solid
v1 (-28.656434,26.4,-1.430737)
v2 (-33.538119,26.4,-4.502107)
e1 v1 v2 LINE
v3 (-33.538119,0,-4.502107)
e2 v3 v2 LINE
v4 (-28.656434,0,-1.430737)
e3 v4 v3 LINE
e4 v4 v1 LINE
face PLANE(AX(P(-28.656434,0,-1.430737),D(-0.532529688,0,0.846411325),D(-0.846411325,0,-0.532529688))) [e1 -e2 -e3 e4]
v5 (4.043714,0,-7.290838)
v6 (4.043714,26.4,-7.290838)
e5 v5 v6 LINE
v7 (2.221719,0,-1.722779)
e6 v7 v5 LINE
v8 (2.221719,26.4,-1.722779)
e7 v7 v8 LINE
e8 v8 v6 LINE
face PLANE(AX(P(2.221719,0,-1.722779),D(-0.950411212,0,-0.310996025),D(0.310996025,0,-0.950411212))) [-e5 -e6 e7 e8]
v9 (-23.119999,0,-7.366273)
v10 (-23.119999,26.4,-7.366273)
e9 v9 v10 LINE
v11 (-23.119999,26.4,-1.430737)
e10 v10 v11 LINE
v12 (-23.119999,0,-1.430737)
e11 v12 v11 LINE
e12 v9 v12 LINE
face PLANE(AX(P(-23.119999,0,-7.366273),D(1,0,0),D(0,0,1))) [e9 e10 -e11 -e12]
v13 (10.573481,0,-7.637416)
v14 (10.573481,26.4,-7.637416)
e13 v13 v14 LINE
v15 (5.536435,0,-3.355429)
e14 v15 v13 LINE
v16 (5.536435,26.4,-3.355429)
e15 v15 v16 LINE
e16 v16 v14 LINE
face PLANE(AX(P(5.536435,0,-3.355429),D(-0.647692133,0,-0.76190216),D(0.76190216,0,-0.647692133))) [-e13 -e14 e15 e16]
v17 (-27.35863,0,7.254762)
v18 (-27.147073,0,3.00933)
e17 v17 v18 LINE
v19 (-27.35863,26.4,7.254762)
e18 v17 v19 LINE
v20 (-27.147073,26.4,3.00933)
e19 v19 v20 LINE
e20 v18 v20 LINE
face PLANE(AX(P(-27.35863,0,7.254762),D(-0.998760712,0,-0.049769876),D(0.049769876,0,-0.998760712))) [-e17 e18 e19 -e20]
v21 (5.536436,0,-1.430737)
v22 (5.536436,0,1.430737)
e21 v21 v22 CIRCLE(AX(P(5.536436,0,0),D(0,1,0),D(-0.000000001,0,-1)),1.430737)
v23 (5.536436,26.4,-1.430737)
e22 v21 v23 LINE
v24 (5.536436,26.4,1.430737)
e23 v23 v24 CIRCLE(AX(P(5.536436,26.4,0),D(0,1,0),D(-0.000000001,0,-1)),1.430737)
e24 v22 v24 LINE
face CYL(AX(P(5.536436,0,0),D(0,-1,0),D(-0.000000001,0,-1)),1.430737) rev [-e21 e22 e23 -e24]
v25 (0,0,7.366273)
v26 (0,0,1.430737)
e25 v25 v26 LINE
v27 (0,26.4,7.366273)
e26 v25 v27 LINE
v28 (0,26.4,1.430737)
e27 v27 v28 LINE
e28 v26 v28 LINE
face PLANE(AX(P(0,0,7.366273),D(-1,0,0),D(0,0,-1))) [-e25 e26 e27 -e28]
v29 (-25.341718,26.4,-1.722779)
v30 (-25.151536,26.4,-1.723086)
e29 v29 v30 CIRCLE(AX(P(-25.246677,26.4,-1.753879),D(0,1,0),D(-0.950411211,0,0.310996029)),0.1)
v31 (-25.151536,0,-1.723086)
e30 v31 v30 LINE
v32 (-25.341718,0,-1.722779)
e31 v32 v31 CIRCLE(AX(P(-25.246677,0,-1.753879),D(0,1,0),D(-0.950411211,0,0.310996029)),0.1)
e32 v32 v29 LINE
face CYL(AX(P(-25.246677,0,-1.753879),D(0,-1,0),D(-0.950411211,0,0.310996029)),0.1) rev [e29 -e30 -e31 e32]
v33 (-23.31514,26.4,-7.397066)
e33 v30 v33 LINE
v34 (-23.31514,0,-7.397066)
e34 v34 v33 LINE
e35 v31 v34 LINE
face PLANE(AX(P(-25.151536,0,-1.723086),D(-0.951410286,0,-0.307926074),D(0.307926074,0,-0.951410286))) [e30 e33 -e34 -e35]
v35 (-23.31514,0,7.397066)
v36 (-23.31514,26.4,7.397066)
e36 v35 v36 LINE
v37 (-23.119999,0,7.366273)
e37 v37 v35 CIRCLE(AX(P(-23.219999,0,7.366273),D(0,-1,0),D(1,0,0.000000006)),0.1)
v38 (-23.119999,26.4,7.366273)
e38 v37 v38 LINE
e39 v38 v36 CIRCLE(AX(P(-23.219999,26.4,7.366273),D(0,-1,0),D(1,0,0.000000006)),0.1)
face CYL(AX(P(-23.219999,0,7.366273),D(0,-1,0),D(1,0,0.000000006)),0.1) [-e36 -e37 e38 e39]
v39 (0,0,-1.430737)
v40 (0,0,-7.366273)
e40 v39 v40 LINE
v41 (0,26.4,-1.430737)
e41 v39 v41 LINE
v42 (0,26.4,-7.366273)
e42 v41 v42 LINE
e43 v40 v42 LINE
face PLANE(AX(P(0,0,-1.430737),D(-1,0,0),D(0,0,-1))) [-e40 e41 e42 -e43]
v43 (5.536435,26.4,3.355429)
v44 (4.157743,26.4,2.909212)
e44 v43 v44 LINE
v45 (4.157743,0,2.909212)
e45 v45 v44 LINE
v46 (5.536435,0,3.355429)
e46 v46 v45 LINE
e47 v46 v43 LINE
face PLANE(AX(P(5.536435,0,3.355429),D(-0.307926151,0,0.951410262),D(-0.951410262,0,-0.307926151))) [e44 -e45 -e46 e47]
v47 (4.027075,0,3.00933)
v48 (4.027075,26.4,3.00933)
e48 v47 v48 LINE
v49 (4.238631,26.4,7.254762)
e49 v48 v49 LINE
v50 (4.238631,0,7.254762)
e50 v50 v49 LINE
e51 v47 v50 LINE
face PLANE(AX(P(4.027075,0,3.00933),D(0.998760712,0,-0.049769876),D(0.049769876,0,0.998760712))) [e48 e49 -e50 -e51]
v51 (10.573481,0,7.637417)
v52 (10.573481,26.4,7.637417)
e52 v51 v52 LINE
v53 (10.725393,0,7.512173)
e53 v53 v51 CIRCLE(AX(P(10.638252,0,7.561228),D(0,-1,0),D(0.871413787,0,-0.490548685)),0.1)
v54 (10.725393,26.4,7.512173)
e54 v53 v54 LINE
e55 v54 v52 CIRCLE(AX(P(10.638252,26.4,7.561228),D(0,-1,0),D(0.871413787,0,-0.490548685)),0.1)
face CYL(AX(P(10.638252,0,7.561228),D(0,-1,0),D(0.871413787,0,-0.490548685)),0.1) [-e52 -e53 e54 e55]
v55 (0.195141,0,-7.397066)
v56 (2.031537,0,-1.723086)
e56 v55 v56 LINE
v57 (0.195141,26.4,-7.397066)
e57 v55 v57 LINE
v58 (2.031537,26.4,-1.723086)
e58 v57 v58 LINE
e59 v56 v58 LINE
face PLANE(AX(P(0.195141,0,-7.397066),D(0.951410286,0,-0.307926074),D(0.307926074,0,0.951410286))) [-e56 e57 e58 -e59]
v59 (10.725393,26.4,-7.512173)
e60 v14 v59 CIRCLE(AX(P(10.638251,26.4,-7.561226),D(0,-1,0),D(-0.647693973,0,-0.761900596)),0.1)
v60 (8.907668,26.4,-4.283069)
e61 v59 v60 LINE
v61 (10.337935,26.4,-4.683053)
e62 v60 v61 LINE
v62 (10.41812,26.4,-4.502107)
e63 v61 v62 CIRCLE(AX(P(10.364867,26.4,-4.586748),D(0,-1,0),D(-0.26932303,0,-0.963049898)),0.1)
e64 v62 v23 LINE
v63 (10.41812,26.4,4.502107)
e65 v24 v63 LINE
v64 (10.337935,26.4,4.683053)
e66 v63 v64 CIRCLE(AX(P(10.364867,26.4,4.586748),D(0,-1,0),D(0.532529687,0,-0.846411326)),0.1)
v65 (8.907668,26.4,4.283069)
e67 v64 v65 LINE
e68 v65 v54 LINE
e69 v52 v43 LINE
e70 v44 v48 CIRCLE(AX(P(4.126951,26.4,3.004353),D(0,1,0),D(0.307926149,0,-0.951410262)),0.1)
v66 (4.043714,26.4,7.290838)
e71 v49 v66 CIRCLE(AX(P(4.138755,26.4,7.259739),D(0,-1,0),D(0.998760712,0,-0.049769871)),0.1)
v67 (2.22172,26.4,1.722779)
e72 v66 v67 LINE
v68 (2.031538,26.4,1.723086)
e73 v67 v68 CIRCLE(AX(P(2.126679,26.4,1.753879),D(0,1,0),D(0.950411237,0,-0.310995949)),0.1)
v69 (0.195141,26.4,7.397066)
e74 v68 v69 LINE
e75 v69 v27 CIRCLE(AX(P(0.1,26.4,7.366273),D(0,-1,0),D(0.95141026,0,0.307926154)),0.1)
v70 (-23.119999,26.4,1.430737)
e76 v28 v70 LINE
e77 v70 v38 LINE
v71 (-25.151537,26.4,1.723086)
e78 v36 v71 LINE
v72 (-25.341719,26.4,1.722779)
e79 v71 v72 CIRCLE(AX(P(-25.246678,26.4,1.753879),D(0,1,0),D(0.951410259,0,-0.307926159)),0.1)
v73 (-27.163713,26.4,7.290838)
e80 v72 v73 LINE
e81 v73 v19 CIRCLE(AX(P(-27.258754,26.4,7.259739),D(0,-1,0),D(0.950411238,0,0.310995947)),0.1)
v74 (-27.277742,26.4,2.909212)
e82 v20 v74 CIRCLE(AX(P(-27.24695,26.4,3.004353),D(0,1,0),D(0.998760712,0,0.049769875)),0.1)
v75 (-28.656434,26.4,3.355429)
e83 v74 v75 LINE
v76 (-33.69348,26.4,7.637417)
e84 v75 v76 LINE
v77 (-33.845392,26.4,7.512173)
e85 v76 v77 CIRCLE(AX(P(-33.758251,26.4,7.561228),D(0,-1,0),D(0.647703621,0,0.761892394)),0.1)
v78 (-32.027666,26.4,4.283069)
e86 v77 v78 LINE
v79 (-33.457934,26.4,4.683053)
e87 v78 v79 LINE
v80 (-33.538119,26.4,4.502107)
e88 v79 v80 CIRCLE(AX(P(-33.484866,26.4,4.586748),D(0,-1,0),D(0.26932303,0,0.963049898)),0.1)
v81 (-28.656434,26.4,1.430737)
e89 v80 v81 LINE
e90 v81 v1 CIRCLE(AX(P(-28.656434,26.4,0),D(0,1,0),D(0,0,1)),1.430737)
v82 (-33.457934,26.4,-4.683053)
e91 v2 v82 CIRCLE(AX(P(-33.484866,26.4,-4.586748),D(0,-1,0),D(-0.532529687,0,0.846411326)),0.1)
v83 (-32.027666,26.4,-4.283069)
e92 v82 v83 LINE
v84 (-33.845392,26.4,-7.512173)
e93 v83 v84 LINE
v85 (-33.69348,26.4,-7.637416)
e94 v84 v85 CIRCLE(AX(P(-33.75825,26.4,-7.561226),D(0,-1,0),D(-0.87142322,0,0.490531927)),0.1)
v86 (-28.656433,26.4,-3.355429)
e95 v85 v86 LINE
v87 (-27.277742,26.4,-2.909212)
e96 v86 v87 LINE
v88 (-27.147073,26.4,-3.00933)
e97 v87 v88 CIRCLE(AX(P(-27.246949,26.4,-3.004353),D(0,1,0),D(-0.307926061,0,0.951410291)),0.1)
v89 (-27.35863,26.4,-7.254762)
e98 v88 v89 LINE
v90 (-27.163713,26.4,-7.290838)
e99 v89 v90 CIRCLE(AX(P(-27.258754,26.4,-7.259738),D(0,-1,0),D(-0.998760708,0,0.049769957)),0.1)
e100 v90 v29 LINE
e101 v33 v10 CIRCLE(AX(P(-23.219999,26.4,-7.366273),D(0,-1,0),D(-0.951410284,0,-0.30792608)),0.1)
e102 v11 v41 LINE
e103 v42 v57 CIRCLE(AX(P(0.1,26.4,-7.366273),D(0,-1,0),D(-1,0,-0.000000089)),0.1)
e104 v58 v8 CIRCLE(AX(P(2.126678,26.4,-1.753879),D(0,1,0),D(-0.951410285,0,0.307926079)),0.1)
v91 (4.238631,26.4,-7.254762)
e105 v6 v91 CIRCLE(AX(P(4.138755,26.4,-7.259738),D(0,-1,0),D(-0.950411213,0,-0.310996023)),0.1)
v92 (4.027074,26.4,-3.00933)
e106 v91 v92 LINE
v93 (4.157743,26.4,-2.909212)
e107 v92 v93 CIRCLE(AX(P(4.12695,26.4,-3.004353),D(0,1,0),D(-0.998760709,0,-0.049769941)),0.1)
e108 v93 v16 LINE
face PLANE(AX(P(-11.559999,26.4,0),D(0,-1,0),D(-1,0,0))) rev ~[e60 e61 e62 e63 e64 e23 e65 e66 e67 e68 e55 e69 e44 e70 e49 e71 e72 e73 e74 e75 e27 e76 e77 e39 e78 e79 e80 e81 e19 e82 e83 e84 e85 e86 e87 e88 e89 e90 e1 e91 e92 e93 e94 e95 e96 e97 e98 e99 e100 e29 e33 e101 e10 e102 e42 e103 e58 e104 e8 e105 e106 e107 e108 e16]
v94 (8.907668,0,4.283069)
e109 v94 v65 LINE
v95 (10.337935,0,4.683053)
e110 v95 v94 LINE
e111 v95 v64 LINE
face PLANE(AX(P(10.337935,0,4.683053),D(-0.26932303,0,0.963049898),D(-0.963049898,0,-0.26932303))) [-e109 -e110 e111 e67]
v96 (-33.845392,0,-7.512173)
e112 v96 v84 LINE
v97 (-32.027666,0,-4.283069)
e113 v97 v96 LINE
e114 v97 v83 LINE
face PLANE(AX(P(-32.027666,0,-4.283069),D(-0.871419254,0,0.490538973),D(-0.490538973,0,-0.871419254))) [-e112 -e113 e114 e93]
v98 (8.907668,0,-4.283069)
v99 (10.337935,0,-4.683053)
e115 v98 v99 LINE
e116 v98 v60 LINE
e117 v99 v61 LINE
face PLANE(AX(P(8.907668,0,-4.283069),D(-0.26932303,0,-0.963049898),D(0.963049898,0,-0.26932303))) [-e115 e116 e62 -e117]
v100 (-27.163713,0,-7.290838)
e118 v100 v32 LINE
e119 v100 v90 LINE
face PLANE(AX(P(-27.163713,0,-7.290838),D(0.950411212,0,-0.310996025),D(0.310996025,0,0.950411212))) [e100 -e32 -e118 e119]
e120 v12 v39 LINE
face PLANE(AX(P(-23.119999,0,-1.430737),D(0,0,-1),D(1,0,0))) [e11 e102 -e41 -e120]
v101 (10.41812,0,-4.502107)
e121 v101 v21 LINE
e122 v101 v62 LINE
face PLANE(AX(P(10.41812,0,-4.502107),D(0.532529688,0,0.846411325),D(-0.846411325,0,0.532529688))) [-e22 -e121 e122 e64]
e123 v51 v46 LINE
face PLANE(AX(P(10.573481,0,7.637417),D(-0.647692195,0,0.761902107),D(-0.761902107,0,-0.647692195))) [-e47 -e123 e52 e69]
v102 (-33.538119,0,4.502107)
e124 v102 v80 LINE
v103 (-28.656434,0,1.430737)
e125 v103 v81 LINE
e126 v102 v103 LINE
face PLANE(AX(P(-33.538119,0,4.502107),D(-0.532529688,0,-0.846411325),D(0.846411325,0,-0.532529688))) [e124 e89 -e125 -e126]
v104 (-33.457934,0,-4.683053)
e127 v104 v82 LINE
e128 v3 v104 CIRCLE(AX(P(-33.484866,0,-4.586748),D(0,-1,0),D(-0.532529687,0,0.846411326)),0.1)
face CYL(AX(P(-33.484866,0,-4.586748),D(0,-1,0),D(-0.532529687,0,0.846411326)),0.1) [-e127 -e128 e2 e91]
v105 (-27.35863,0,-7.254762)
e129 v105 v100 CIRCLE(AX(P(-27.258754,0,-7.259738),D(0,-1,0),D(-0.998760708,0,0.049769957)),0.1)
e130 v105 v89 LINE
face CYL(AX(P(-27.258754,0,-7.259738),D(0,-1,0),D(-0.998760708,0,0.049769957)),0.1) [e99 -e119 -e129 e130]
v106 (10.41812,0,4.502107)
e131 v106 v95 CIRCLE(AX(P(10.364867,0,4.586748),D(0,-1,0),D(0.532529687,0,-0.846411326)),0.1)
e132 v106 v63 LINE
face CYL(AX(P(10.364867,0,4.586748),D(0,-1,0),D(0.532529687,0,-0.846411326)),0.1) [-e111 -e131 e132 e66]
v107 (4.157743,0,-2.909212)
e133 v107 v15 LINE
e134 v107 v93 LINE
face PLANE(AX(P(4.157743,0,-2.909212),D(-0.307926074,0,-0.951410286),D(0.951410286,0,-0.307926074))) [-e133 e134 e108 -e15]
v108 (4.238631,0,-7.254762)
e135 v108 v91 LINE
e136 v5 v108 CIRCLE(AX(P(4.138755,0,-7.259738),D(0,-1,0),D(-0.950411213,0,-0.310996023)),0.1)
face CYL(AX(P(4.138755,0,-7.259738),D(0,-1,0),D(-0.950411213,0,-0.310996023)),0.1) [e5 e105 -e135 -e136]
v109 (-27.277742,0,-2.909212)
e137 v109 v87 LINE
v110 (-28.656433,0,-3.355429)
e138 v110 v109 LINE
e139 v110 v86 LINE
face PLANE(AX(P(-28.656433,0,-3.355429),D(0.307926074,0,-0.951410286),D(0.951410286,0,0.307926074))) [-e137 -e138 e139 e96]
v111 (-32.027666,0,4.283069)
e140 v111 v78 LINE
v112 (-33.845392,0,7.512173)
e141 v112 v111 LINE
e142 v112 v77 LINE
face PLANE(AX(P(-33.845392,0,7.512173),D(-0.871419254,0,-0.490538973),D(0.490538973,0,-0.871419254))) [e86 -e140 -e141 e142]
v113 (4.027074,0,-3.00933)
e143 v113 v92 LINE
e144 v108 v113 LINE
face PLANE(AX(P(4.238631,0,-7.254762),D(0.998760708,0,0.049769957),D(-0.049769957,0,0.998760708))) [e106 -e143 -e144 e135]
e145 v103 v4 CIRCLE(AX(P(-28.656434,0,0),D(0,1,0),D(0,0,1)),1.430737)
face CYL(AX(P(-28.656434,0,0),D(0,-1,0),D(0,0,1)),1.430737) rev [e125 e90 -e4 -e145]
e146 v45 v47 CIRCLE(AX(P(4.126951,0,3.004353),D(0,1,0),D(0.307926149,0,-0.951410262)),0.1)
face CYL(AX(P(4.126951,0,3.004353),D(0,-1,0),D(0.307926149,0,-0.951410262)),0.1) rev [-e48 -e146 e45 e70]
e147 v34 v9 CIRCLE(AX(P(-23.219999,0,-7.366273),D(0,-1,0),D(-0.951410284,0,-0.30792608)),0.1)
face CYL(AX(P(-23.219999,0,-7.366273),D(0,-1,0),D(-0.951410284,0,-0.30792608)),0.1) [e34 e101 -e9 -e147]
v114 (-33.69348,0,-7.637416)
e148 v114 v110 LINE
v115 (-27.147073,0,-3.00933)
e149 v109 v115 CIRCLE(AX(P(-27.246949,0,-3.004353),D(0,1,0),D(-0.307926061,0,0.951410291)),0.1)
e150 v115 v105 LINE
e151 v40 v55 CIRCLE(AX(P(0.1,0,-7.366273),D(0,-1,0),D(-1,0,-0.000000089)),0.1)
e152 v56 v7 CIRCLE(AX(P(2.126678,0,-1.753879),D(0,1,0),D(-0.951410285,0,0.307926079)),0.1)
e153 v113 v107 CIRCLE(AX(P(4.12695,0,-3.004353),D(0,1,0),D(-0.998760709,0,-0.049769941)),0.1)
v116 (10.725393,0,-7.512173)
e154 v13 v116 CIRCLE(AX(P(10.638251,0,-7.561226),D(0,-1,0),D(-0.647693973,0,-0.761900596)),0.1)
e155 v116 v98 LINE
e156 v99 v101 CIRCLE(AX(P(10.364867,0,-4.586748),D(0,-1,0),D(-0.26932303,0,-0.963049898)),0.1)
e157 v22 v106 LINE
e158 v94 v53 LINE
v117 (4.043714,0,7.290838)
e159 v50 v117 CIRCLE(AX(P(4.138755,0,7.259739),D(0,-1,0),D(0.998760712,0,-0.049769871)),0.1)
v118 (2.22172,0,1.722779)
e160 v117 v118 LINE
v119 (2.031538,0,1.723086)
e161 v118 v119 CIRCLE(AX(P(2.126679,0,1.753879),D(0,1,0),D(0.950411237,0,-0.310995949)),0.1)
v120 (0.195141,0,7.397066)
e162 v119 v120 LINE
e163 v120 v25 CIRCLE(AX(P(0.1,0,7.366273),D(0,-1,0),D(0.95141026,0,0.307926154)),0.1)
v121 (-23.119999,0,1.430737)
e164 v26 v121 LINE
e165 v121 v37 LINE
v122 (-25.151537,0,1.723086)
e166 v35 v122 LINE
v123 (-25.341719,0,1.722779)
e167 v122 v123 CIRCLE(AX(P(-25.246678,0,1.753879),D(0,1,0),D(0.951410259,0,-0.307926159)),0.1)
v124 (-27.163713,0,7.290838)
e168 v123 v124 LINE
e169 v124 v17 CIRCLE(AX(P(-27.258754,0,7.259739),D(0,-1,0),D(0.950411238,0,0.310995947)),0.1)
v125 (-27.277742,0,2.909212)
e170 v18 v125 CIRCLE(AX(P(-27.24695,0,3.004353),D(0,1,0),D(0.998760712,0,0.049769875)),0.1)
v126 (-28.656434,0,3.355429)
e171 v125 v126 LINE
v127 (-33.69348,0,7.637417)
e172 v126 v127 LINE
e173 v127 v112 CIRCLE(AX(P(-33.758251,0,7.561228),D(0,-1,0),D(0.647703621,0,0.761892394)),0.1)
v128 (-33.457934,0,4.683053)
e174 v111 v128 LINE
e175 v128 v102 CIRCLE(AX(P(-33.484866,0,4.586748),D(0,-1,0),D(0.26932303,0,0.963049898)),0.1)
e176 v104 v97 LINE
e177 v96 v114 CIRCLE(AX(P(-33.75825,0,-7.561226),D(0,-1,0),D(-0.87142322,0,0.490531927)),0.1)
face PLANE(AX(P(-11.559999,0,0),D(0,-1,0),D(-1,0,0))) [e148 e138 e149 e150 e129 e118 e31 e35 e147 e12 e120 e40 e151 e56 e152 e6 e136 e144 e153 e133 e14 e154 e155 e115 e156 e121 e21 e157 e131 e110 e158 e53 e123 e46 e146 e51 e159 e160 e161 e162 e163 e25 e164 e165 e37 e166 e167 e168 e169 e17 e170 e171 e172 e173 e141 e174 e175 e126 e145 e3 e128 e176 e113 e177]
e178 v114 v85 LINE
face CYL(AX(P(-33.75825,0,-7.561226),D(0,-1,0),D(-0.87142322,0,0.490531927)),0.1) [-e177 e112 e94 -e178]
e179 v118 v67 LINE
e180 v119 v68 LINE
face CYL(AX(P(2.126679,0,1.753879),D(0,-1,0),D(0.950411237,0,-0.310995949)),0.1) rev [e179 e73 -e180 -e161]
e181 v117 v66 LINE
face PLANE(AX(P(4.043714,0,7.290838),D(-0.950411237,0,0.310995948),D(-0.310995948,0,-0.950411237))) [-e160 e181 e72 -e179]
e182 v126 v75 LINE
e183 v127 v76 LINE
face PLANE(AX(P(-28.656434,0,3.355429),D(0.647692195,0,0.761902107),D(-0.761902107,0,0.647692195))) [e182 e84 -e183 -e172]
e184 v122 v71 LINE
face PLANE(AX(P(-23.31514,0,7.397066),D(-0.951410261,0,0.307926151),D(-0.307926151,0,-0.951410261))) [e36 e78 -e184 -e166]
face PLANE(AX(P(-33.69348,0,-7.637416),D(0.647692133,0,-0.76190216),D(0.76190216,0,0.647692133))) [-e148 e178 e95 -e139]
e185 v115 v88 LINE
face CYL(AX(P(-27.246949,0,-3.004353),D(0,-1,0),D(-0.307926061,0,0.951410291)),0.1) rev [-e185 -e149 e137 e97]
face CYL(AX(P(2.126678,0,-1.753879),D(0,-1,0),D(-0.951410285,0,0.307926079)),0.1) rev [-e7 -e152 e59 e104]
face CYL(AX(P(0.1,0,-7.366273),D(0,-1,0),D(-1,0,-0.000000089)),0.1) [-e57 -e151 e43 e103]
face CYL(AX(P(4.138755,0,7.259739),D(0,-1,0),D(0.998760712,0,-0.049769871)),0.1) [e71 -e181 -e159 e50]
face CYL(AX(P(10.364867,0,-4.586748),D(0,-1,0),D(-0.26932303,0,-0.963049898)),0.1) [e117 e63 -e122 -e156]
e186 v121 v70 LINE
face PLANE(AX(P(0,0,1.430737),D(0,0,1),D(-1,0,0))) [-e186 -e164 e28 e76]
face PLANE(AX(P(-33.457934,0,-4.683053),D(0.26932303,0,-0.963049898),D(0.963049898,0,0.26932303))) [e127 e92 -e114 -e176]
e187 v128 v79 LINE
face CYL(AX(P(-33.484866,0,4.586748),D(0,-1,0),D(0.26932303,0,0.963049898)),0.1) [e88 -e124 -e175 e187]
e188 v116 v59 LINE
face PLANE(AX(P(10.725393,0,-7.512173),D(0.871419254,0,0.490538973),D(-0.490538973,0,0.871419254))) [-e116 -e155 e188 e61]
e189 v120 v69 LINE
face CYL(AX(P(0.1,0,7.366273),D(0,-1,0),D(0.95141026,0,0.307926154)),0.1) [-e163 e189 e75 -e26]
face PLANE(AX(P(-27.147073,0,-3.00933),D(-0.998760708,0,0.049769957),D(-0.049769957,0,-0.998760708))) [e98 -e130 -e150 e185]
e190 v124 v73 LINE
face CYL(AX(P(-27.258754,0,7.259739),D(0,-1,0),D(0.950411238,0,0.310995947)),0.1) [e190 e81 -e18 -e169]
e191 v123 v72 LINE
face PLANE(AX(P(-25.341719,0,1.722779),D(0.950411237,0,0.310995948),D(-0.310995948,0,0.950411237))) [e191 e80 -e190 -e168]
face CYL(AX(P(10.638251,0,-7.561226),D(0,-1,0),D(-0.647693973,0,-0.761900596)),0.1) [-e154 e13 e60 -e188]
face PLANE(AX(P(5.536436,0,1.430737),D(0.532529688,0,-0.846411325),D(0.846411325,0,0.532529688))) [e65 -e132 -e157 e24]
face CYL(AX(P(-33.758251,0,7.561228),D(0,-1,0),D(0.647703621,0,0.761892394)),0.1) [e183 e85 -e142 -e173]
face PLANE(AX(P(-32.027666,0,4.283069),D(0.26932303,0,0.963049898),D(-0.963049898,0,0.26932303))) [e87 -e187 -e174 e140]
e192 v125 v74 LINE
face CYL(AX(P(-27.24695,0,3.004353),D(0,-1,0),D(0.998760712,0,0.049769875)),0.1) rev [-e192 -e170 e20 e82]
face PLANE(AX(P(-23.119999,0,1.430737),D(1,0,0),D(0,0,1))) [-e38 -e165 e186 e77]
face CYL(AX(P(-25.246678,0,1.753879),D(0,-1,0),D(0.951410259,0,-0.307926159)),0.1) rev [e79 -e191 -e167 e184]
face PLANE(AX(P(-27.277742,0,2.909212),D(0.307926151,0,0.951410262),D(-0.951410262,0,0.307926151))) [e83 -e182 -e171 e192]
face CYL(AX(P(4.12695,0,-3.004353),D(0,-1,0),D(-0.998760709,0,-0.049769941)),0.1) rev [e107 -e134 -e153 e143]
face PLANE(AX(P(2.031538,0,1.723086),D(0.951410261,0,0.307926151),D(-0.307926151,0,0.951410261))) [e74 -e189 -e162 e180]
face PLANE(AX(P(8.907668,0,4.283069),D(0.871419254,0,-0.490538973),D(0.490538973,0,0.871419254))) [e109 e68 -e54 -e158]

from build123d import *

# Parameters (mm, degrees)
EXTRUDE_1_DEPTH = 26.4


with BuildPart() as part:
    # Эскиз1 → Бобышка-Вытянуть1 (new body)
    with BuildSketch(Plane(origin=(0, 0, 0), x_dir=(1, 0, 0), z_dir=(0, 1, 0))):
        with BuildLine():
            Line((0, -7.366273292), (0, -1.430737225))
            Line((0, -1.430737225), (-23.119998808, -1.430737225))
            Line((-23.119998808, -1.430737225), (-23.119998808, -7.366273292))
            ThreePointArc((-23.119998808, -7.366273292), (-23.204411997, -7.465051079), (-23.315139834, -7.397065907))
            Line((-23.315139834, -7.397065907), (-25.151536602, -1.723086212))
            ThreePointArc((-25.151536602, -1.723086212), (-25.246516215, -1.653878958), (-25.341718752, -1.722779233))
            Line((-25.341718752, -1.722779233), (-27.163713043, -7.290838427))
            ThreePointArc((-27.163713043, -7.290838427), (-27.276953731, -7.358068766), (-27.358630238, -7.254761845))
            Line((-27.358630238, -7.254761845), (-27.147073457, -3.009330281))
            ThreePointArc((-27.147073457, -3.009330281), (-27.186129834, -2.924974677), (-27.277742143, -2.909212268))
            Line((-27.277742143, -2.909212268), (-28.656433819, -3.355429045))
            Line((-28.656433819, -3.355429045), (-33.693480219, -7.637416988))
            ThreePointArc((-33.693480219, -7.637416988), (-33.821863766, -7.638385786), (-33.84539196, -7.51217288))
            Line((-33.84539196, -7.51217288), (-32.027666378, -4.283069467))
            Line((-32.027666378, -4.283069467), (-33.457933536, -4.683052776))
            ThreePointArc((-33.457933536, -4.683052776), (-33.57629105, -4.627262362), (-33.538118808, -4.502106653))
            Line((-33.538118808, -4.502106653), (-28.656434415, -1.430737225))
            ThreePointArc((-28.656434415, -1.430737225), (-27.22569719, 0), (-28.656434415, 1.430737225))
            Line((-28.656434415, 1.430737225), (-33.538118808, 4.502106653))
            ThreePointArc((-33.538118808, 4.502106653), (-33.57629105, 4.627262362), (-33.457933536, 4.683052776))
            Line((-33.457933536, 4.683052776), (-32.027666378, 4.283069467))
            Line((-32.027666378, 4.283069467), (-33.84539196, 7.51217288))
            ThreePointArc((-33.84539196, 7.51217288), (-33.821862569, 7.638384319), (-33.693480241, 7.637416132))
            Line((-33.693480241, 7.637416132), (-28.656433494, 3.355428597))
            Line((-28.656433494, 3.355428597), (-27.277741782, 2.909211931))
            ThreePointArc((-27.277741782, 2.909211931), (-27.186129475, 2.924974348), (-27.147073104, 3.009329955))
            Line((-27.147073104, 3.009329955), (-27.358630229, 7.254761502))
            ThreePointArc((-27.358630229, 7.254761502), (-27.27695373, 7.35806843), (-27.163713037, 7.2908381))
            Line((-27.163713037, 7.2908381), (-25.341718295, 1.722779053))
            ThreePointArc((-25.341718295, 1.722779053), (-25.246515752, 1.653878786), (-25.151536145, 1.723086048))
            Line((-25.151536145, 1.723086048), (-23.315139837, 7.397065891))
            ThreePointArc((-23.315139837, 7.397065891), (-23.204412005, 7.465051072), (-23.119998808, 7.366273292))
            Line((-23.119998808, 7.366273292), (-23.119998808, 1.430737225))
            Line((-23.119998808, 1.430737225), (0, 1.430737225))
            Line((0, 1.430737225), (0, 7.366273292))
            ThreePointArc((0, 7.366273292), (0.084413196, 7.465051072), (0.195141029, 7.397065891))
            Line((0.195141029, 7.397065891), (2.031537337, 1.723086048))
            ThreePointArc((2.031537337, 1.723086048), (2.126516944, 1.653878786), (2.221719487, 1.722779053))
            Line((2.221719487, 1.722779053), (4.043714229, 7.2908381))
            ThreePointArc((4.043714229, 7.2908381), (4.156954922, 7.35806843), (4.238631421, 7.254761502))
            Line((4.238631421, 7.254761502), (4.027074296, 3.009329955))
            ThreePointArc((4.027074296, 3.009329955), (4.066130667, 2.924974348), (4.157742974, 2.909211931))
            Line((4.157742974, 2.909211931), (5.536434686, 3.355428597))
            Line((5.536434686, 3.355428597), (10.573481433, 7.637416132))
            ThreePointArc((10.573481433, 7.637416132), (10.701863761, 7.638384319), (10.725393152, 7.51217288))
            Line((10.725393152, 7.51217288), (8.90766757, 4.283069467))
            Line((8.90766757, 4.283069467), (10.337934728, 4.683052776))
            ThreePointArc((10.337934728, 4.683052776), (10.456292242, 4.627262362), (10.41812, 4.502106653))
            Line((10.41812, 4.502106653), (5.536435606, 1.430737225))
            ThreePointArc((5.536435606, 1.430737225), (4.105698382, 0), (5.536435606, -1.430737225))
            Line((5.536435606, -1.430737225), (10.41812, -4.502106653))
            ThreePointArc((10.41812, -4.502106653), (10.456292242, -4.627262362), (10.337934728, -4.683052776))
            Line((10.337934728, -4.683052776), (8.90766757, -4.283069467))
            Line((8.90766757, -4.283069467), (10.725393152, -7.51217288))
            ThreePointArc((10.725393152, -7.51217288), (10.701864958, -7.638385786), (10.573481411, -7.637416988))
            Line((10.573481411, -7.637416988), (5.536435011, -3.355429045))
            Line((5.536435011, -3.355429045), (4.157743335, -2.909212268))
            ThreePointArc((4.157743335, -2.909212268), (4.066131026, -2.924974677), (4.027074648, -3.009330281))
            Line((4.027074648, -3.009330281), (4.23863143, -7.254761845))
            ThreePointArc((4.23863143, -7.254761845), (4.156954922, -7.358068766), (4.043714235, -7.290838427))
            Line((4.043714235, -7.290838427), (2.221719944, -1.722779233))
            ThreePointArc((2.221719944, -1.722779233), (2.126517406, -1.653878958), (2.031537794, -1.723086212))
            Line((2.031537794, -1.723086212), (0.195141026, -7.397065907))
            ThreePointArc((0.195141026, -7.397065907), (0.084413188, -7.465051079), (0, -7.366273292))
        make_face()
    extrude(amount=EXTRUDE_1_DEPTH)


solid = part.part
